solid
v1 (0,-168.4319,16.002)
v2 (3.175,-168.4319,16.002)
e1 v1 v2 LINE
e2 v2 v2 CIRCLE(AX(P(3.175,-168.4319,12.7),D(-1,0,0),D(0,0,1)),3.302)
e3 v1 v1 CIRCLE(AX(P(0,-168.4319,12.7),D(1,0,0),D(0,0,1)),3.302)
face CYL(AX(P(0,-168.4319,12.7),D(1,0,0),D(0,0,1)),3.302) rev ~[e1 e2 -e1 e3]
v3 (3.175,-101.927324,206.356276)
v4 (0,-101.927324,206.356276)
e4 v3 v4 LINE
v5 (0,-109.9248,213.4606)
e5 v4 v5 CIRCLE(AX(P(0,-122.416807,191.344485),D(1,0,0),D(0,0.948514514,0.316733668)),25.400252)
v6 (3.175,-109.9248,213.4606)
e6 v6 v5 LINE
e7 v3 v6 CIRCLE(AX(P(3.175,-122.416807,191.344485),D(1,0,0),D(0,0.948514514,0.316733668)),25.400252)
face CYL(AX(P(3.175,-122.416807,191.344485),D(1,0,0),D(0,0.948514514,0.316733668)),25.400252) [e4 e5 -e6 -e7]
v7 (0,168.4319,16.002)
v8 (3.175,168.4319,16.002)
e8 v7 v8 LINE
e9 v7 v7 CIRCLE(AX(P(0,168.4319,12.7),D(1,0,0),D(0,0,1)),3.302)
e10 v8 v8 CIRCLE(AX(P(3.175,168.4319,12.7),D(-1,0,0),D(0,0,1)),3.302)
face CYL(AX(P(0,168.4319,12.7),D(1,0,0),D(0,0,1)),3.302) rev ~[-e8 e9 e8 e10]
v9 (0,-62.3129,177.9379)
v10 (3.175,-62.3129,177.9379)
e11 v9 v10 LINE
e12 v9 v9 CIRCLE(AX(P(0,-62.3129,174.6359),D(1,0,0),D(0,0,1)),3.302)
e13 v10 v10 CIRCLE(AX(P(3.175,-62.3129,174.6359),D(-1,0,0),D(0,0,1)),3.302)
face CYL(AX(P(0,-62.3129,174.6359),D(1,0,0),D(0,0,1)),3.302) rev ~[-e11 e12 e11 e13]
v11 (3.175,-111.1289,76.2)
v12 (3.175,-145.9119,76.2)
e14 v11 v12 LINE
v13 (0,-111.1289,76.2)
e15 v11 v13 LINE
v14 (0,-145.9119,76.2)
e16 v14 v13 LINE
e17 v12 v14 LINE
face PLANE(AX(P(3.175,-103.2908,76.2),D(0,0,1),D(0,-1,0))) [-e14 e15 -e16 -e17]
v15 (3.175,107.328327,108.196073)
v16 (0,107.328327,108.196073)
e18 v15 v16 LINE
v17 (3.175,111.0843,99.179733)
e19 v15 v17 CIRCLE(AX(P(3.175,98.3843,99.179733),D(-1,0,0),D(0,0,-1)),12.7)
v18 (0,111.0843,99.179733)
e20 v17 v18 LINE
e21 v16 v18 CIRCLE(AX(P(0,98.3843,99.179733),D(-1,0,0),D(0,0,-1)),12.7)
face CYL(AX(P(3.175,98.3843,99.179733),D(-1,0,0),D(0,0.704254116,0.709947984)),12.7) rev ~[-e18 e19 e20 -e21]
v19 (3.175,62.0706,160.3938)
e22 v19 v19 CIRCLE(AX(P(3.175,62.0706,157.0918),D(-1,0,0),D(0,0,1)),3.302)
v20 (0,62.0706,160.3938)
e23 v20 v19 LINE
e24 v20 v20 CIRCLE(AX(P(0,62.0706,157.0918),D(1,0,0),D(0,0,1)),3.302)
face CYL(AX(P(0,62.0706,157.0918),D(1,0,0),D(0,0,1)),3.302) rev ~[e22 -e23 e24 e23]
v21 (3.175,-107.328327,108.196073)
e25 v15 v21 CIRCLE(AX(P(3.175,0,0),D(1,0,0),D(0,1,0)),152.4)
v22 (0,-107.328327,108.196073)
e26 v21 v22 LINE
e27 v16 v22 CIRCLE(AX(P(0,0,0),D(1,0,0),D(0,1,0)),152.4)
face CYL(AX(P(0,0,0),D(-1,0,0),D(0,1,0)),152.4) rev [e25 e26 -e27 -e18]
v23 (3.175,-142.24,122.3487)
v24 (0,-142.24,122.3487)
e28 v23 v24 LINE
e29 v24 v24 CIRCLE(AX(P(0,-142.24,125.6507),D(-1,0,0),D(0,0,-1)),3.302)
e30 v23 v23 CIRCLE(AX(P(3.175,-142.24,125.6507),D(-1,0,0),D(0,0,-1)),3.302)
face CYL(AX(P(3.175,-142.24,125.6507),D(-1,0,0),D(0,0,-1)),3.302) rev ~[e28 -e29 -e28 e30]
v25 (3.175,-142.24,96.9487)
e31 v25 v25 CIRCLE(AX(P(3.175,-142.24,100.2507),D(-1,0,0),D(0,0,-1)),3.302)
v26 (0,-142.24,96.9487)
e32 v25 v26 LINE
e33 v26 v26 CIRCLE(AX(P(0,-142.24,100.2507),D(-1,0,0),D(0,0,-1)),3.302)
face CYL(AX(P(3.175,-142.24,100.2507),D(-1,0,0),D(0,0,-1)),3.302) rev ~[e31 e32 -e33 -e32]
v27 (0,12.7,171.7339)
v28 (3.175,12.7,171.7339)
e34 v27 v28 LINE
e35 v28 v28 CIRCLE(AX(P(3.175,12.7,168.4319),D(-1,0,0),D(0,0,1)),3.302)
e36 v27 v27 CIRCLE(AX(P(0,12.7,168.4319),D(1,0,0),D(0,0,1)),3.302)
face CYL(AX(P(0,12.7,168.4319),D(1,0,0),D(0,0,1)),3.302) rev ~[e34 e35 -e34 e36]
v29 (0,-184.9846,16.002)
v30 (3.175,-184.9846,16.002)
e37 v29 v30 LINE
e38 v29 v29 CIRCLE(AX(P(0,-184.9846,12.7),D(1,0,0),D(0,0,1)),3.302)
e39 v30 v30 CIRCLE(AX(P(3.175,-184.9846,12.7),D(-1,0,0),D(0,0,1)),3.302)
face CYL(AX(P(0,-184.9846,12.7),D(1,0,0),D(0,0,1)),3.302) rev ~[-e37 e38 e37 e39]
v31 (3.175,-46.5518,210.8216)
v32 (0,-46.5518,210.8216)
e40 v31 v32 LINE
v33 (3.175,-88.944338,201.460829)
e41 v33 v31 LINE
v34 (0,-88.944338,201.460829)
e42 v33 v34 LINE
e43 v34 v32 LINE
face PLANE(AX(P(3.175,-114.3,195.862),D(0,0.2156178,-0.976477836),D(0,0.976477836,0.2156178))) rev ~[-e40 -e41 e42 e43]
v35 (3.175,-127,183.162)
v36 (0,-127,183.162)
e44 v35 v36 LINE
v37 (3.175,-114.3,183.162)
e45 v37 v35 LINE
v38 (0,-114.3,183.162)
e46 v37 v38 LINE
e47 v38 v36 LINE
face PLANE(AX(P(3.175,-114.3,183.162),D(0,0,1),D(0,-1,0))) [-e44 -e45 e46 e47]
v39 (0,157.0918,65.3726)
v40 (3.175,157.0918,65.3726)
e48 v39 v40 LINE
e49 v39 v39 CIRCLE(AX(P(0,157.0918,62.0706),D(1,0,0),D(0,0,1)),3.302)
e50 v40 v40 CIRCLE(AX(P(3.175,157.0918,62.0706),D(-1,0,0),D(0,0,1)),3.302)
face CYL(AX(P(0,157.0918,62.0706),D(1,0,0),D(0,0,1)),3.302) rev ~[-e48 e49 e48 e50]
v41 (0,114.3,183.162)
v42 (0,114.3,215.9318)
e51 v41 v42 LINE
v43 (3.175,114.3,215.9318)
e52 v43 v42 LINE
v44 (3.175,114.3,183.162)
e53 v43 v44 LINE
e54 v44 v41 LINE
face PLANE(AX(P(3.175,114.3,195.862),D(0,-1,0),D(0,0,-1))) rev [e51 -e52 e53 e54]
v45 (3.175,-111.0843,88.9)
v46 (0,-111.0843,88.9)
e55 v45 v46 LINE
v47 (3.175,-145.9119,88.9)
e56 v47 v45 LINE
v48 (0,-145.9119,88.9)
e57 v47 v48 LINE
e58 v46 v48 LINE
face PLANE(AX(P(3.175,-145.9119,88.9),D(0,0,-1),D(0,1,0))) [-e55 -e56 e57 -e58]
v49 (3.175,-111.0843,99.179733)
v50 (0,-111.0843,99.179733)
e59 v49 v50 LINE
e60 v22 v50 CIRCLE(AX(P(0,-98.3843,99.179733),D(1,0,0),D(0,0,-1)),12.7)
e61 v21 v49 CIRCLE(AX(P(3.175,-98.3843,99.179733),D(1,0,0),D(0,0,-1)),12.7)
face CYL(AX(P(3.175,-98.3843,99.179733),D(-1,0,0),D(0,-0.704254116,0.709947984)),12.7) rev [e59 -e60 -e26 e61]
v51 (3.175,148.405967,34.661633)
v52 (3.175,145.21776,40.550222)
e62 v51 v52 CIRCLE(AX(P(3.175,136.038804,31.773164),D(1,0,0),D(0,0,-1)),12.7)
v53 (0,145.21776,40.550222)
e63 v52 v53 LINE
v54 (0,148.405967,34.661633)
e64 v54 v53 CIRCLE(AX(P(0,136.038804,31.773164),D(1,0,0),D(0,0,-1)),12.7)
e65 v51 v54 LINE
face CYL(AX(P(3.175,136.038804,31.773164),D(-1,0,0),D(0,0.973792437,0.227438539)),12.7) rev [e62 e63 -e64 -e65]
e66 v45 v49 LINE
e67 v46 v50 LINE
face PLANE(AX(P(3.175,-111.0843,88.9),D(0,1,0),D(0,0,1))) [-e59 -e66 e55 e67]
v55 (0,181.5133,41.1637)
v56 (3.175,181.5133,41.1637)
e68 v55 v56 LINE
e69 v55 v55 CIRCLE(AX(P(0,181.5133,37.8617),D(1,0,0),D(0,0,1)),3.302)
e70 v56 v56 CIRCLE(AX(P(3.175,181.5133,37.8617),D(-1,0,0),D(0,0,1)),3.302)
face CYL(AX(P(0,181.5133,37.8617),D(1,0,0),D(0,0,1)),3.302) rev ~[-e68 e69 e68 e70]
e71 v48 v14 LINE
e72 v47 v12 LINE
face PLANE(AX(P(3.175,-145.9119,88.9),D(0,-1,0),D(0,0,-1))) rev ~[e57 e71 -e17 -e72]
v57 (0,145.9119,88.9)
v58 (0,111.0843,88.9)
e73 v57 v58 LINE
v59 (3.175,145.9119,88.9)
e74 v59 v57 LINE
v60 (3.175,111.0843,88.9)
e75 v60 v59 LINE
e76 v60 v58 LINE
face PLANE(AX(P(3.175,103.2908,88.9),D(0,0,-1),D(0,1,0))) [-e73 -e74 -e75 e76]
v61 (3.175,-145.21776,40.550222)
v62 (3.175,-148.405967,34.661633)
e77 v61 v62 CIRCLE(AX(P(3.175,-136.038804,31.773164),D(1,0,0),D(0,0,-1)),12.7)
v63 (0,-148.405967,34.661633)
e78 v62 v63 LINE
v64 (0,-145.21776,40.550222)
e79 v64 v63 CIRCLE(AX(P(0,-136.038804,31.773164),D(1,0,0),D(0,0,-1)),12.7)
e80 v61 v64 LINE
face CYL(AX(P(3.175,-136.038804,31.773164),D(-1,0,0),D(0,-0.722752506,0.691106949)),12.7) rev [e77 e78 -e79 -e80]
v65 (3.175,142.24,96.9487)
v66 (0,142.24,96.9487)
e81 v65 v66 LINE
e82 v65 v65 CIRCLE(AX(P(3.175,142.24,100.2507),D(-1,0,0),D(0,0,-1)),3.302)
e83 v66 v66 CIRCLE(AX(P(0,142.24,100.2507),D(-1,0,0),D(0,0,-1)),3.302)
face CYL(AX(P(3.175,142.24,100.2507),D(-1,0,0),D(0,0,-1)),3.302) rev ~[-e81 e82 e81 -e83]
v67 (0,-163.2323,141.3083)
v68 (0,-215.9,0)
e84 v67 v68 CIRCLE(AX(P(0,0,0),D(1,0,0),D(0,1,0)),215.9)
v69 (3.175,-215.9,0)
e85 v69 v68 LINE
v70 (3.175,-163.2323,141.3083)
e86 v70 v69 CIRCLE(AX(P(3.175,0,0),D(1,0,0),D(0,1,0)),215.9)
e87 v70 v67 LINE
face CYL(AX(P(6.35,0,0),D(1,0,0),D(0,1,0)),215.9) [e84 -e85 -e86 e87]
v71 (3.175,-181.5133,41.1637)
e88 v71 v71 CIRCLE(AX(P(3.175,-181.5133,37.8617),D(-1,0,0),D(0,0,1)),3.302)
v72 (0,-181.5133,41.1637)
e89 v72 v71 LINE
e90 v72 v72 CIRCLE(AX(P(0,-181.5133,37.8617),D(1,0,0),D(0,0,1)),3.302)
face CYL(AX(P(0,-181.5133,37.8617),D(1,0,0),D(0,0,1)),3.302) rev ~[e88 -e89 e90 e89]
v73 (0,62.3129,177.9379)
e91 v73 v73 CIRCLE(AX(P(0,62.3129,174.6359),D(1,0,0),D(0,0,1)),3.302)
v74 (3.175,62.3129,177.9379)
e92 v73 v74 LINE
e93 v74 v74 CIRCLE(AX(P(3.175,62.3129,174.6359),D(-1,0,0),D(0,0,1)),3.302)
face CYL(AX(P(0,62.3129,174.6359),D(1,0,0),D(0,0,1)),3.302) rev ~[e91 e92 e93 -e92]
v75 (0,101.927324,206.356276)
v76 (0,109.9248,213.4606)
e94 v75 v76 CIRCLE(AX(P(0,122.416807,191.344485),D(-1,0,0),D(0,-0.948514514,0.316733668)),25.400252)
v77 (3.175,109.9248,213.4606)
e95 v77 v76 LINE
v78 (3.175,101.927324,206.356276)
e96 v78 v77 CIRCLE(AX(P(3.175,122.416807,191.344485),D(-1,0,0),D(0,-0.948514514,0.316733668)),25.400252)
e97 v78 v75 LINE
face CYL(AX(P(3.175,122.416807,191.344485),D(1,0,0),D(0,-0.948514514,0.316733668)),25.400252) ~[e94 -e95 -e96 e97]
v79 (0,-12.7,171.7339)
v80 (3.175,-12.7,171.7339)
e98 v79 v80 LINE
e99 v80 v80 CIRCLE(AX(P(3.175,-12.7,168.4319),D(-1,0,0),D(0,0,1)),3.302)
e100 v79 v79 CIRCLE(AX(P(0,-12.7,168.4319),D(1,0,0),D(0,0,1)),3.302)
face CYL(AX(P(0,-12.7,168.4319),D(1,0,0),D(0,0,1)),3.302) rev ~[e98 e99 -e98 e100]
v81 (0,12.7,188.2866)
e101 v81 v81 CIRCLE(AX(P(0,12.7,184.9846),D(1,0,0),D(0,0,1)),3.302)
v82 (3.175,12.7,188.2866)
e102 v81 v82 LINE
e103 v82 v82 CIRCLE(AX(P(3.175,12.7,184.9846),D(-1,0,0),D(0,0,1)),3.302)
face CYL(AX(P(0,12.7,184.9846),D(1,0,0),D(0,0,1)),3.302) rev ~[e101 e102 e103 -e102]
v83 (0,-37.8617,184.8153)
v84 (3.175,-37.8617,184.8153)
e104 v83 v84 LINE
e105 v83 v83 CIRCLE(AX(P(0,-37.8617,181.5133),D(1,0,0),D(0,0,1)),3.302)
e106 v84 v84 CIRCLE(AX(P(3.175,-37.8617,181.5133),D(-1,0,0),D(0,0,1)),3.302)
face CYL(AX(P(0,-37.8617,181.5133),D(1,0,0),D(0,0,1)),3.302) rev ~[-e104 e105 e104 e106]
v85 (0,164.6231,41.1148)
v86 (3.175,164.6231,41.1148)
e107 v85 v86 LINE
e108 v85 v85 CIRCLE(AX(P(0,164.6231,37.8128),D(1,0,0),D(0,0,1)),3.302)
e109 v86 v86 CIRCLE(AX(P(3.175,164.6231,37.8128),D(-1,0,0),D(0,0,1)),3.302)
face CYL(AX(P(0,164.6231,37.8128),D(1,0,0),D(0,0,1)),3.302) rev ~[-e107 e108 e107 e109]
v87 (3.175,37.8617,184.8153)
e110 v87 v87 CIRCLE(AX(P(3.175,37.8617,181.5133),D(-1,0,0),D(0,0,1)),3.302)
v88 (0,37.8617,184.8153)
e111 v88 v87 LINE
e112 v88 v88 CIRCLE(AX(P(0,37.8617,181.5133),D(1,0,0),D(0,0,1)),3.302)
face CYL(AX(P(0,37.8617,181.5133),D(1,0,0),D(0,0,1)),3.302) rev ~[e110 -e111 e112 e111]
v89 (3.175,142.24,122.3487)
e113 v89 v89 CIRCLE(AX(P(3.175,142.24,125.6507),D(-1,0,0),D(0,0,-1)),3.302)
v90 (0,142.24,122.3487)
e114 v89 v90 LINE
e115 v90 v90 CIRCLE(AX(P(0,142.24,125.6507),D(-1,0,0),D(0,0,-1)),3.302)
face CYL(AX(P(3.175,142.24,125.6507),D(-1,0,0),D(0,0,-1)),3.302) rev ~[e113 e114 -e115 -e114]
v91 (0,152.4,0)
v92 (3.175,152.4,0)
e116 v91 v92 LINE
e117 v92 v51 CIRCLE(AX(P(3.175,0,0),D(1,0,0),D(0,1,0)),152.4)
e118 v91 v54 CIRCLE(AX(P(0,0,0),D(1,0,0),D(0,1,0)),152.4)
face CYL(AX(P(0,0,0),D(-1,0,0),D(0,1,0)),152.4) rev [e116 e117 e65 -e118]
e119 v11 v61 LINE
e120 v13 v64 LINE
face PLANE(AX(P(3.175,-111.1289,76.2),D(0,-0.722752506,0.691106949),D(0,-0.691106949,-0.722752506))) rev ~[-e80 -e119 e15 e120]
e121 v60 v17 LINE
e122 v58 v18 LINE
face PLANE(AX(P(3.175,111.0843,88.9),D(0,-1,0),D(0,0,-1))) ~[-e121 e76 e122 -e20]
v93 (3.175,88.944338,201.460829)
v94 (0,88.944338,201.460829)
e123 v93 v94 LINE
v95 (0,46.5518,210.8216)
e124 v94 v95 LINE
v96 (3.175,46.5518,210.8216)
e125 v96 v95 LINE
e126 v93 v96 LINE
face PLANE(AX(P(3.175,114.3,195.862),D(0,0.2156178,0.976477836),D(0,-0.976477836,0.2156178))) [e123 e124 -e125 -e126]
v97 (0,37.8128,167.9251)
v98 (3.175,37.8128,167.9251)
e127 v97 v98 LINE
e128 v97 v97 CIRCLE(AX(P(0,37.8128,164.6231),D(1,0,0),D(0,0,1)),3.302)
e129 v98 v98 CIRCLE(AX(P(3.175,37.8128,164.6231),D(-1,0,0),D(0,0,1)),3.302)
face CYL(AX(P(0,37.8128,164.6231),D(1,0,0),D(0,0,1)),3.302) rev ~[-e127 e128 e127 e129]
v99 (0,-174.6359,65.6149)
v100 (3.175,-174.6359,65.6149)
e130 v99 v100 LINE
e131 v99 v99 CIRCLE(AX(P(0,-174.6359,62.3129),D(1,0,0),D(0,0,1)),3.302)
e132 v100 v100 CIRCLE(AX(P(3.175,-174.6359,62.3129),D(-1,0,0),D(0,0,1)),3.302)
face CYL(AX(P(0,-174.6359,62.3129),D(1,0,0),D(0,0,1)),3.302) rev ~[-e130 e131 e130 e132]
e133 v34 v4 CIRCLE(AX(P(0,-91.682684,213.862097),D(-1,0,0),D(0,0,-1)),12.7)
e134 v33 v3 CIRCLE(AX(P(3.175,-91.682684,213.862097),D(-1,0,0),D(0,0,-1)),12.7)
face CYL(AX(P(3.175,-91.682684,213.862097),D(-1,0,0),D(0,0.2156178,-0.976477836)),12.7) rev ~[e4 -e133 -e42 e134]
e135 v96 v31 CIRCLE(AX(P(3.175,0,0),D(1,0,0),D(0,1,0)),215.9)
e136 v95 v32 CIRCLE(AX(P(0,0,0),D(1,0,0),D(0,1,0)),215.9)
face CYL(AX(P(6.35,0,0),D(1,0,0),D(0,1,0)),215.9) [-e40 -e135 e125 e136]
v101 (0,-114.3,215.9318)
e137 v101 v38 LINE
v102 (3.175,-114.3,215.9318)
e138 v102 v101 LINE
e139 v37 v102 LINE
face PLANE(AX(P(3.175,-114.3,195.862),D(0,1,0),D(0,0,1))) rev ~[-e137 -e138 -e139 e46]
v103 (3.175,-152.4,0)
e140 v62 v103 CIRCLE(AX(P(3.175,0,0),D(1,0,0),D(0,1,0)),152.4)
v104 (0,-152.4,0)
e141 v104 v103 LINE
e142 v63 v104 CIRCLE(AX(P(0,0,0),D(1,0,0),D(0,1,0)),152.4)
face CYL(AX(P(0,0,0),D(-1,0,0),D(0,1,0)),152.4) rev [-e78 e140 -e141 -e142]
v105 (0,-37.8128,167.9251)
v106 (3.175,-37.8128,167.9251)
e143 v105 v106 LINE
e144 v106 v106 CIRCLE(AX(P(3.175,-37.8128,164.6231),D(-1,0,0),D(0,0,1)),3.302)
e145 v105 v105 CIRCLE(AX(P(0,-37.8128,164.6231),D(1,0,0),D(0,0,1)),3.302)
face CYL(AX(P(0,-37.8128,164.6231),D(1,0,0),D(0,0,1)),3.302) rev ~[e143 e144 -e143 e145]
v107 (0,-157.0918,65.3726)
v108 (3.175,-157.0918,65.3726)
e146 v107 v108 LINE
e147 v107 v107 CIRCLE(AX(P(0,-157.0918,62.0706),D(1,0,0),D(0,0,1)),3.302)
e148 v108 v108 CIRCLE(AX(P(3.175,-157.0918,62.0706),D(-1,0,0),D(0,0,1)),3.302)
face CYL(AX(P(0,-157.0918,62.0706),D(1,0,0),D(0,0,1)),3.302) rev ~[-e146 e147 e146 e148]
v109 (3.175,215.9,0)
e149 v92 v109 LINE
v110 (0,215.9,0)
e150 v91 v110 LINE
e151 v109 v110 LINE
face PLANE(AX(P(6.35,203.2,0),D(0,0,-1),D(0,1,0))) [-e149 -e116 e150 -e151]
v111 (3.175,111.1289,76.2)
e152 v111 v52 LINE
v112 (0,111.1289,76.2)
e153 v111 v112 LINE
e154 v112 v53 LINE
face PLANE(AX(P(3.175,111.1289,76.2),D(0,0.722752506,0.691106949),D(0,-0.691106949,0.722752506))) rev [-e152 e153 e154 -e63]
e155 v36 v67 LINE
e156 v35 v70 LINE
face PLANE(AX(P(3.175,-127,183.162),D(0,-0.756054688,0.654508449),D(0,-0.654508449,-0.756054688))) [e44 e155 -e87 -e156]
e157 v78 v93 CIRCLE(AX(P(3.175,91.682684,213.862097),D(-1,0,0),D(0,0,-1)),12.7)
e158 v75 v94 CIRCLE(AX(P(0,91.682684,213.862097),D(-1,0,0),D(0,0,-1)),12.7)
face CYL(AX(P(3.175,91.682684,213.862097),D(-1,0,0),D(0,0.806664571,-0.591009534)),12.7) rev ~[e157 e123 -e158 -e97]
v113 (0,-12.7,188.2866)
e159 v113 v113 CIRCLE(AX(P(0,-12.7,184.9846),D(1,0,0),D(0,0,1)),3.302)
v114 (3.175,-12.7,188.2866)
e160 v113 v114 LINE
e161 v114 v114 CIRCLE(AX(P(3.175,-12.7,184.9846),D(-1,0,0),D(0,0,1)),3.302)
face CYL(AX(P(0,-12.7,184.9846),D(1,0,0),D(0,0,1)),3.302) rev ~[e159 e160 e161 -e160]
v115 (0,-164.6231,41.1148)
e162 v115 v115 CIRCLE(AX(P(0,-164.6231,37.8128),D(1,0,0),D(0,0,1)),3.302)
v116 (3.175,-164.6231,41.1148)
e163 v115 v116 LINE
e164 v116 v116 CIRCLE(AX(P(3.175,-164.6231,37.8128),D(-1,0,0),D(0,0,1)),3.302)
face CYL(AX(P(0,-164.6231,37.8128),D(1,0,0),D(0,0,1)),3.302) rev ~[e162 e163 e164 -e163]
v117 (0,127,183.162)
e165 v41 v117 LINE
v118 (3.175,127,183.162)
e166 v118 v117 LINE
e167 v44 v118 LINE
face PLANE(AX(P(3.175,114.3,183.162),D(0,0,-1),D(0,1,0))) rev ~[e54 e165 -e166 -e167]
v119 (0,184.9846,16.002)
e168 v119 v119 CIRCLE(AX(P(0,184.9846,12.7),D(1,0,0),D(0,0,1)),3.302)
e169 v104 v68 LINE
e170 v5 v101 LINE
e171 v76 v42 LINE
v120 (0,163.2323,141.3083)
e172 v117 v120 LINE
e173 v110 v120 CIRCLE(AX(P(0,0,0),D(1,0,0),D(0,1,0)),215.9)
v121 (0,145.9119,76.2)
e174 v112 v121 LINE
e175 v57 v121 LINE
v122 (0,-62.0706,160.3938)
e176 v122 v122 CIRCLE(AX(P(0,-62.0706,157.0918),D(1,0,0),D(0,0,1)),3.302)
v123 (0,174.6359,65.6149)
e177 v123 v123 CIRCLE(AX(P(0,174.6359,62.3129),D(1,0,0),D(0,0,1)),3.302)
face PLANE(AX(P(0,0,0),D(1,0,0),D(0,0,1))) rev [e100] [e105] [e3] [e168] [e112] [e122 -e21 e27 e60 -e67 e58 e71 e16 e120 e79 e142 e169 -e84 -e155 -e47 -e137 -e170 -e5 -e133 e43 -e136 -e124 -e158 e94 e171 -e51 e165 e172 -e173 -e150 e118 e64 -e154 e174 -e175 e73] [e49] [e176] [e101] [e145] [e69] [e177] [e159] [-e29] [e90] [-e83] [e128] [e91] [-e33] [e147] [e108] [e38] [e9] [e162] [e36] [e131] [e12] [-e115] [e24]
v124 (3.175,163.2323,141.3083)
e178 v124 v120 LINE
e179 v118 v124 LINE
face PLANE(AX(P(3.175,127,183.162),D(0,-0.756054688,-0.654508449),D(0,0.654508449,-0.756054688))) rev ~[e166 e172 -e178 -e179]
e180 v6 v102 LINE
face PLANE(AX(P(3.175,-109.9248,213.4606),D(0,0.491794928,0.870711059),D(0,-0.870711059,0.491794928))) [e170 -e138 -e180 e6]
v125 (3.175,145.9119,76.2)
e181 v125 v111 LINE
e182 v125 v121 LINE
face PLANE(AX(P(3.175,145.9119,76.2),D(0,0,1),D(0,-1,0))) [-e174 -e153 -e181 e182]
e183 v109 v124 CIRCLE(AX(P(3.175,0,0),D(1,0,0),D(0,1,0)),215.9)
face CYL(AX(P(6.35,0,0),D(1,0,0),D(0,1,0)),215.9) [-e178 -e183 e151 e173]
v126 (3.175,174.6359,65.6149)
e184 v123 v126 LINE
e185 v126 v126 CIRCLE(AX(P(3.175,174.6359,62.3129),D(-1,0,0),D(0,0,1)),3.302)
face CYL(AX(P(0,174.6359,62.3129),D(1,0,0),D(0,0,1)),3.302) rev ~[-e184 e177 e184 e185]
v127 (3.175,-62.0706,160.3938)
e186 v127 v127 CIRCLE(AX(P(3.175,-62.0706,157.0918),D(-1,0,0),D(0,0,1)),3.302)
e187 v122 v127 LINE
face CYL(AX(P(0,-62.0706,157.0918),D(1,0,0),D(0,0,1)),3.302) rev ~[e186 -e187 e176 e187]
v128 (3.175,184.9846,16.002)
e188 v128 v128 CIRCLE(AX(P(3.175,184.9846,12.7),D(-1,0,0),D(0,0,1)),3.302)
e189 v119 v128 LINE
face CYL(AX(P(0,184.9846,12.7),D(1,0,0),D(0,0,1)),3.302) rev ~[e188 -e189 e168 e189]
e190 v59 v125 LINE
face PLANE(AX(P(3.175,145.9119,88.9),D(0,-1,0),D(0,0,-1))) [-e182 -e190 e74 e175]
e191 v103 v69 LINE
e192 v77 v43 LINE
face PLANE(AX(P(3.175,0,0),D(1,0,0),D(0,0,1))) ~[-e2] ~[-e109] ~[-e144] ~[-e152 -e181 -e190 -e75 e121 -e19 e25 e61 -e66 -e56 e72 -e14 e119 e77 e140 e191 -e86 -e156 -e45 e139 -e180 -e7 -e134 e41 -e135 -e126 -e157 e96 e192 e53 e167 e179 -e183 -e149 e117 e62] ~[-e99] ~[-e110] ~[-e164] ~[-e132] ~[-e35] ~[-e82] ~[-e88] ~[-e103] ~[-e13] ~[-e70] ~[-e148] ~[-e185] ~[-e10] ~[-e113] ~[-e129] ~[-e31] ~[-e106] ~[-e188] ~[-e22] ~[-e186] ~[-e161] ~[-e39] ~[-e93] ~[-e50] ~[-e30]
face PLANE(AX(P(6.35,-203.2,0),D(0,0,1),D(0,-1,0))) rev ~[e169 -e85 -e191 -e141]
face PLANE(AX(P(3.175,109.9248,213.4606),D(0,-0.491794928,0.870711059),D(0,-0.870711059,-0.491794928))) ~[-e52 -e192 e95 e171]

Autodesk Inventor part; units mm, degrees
ref_plane "YZ Plane" through (0, 0, 0) normal (1, 0, 0) x (0, 1, 0)
ref_plane "XZ Plane" through (0, 0, 0) normal (0, 1, 0) x (-1, 0, 0)
sketch "Sketch1" plane through (0, 0, 0) normal (1, 0, 0) x (0, 1, 0)
  arc A0 (203.2, 0) -> (-203.2, 0) centre (0, 0) ccw
  arc A1 (152.4, 0) -> (-152.4, 0) centre (0, 0) ccw
  arc A2 (185.42, 0) -> (-185.42, 0) centre (0, 0) ccw
  line L0 (0, 0) -> (152.4, 0) construction
  line L1 (0, 0) -> (220.2471, 220.2471) construction
  line L2 (0, 0) -> (-217.8171, 217.8171) construction
  line L3 (0, 0) -> (-152.4, 0) construction
  line L4 (203.2, 0) -> (418.8667, 0) construction
  line L5 (152.4, 0) -> (-185.42, 0)
  line L6 (-203.2, 0) -> (-272.3039, 0)
  line L7 (-185.42, 0) -> (-203.2, 0)
  line L8 (-152.4, 0) -> (-203.2, 0)
  line L9 (152.4, 0) -> (203.2, 0)
  arc A3 (168.91, 0) -> (-168.91, 0) centre (0, 0) ccw
  point P0 (181.5133, 37.8617)
  point P1 (184.9846, 12.7)
  point P2 (164.6231, 37.8128)
  point P3 (168.4319, 12.7)
  point P4 (174.6359, 62.3129)
  point P5 (157.0918, 62.0706)
  point P6 (37.8617, 181.5133)
  point P7 (12.7, 184.9846)
  point P8 (37.8128, 164.6231)
  point P9 (12.7, 168.4319)
  point P10 (62.3129, 174.6359)
  point P11 (62.0706, 157.0918)
  point P12 (-62.3129, 174.6359)
  point P13 (-37.8617, 181.5133)
  point P14 (-62.0706, 157.0918)
  point P15 (-37.8128, 164.6231)
  point P16 (-12.7, 168.4319)
  point P17 (-12.7, 184.9846)
  point P18 (-157.0918, 62.0706)
  point P19 (-174.6359, 62.3129)
  point P20 (-181.5133, 37.8617)
  point P21 (-164.6231, 37.8128)
  point P22 (-168.4319, 12.7)
  point P23 (-184.9846, 12.7)
  dimension "d0" = 406.4
  dimension "d2" = 304.8
  dimension "d3" = 370.84
  dimension "d5" = 50.8
  dimension "d6" = 25.4
  dimension "d7" = 25.4
  dimension "d8" = 12.7
  dimension "d9" = 12.7
  dimension "d10" = 25.4
  dimension "d11" = 25.4
  dimension "d12" = 45
  dimension "d13" = 45
extrude "Extrusion1" add sketch "Sketch1" along normal blind 6.35 contours L9 A2 L7 A0 | L9 A3 L5 A2 | L9 A1 L5 A3
hole "Hole1" at (0, 181.5133, 37.8617) at (0, 184.9846, 12.7) at (0, 164.6231, 37.8128) at (0, 168.4319, 12.7) at (0, 174.6359, 62.3129) at (0, 157.0918, 62.0706) at (0, 62.3129, 174.6359) at (0, 37.8617, 181.5133) at (0, 62.0706, 157.0918) at (0, 37.8128, 164.6231) at (0, 12.7, 168.4319) at (0, 12.7, 184.9846) at (0, -62.0706, 157.0918) at (0, -62.3129, 174.6359) at (0, -37.8617, 181.5133) at (0, -37.8128, 164.6231) at (0, -12.7, 168.4319) at (0, -12.7, 184.9846) at (0, -184.9846, 12.7) at (0, -168.4319, 12.7) at (0, -181.5133, 37.8617) at (0, -164.6231, 37.8128) at (0, -174.6359, 62.3129) at (0, -157.0918, 62.0706) direction (1, 0, 0) diameter 6.604 end through all
sketch "Sketch2" plane through (6.35, 0, 0) normal (1, 0, 0) x (0, 0, -1)
  arc A0 (0, 215.9) -> (0, -215.9) centre (0, 0) ccw
  arc A1 (0, 203.2) -> (0, -203.2) centre (0, 0) ccw projected
  line L0 (0, 203.2) -> (0, 215.9)
  line L1 (0, -203.2) -> (0, -215.9)
  dimension "d23" = 431.8
extrude "Extrusion2" add sketch "Sketch2" against normal blind 6.35
sketch "Sketch3" plane through (6.35, 0, 0) normal (1, 0, 0) x (0, 0, -1)
  circle A0 centre (-62.3129, -174.6359) radius 3.302 projected
  circle A1 centre (-37.8617, -181.5133) radius 3.302 projected
  circle A2 centre (-12.7, -184.9846) radius 3.302 projected
  circle A3 centre (-168.4319, -12.7) radius 3.302 projected
  circle A4 centre (-181.5133, -37.8617) radius 3.302 projected
  circle A5 centre (-157.0918, -62.0706) radius 3.302 projected
  circle A6 centre (-168.4319, 12.7) radius 3.302 projected
  circle A7 centre (-157.0918, 62.0706) radius 3.302 projected
  circle A8 centre (-174.6359, 62.3129) radius 3.302 projected
  circle A9 centre (-62.3129, 174.6359) radius 3.302 projected
  circle A10 centre (-37.8128, 164.6231) radius 3.302 projected
  circle A11 centre (-37.8617, 181.5133) radius 3.302 projected
  circle A12 centre (-12.7, 184.9846) radius 3.302 projected
  circle A13 centre (-12.7, 168.4319) radius 3.302 projected
  circle A14 centre (-62.0706, 157.0918) radius 3.302 projected
  circle A15 centre (-181.5133, 37.8617) radius 3.302 projected
  circle A16 centre (-164.6231, 37.8128) radius 3.302 projected
  circle A17 centre (-184.9846, 12.7) radius 3.302 projected
  circle A18 centre (-174.6359, -62.3129) radius 3.302 projected
  circle A19 centre (-164.6231, -37.8128) radius 3.302 projected
  circle A20 centre (-184.9846, -12.7) radius 3.302 projected
  circle A21 centre (-12.7, -168.4319) radius 3.302 projected
  circle A22 centre (-37.8128, -164.6231) radius 3.302 projected
  circle A23 centre (-62.0706, -157.0918) radius 3.302 projected
  line L0 (0, 152.4) -> (0, 215.9) projected
  arc A24 (0, 215.9) -> (0, -215.9) centre (0, 0) ccw projected
  line L1 (0, -152.4) -> (0, -215.9) projected
  arc A25 (0, 152.4) -> (0, -152.4) centre (0, 0) ccw projected
extrude "Extrusion3" cut sketch "Sketch3" against normal blind 3.175
sketch "Sketch4" plane through (3.175, 0, 0) normal (1, 0, 0) x (0, 0, -1)
  arc A0 (0, 215.9) -> (0, -215.9) centre (0, 0) ccw projected
  line L0 (-183.162, -114.3) -> (-266.6206, -114.3)
  line L1 (-183.162, -114.3) -> (-183.162, -127)
  line L2 (-183.162, -127) -> (-174.5961, -127)
  arc A1 (-183.162, -114.3) -> (-174.5961, -127) centre (0, 0) ccw
  line L3 (0, 0) -> (-55.1086, 0) construction
  line L4 (-183.162, 114.3) -> (-183.162, 127)
  line L5 (-183.162, 127) -> (-174.5961, 127)
  arc A2 (-174.5961, 127) -> (-183.162, 114.3) centre (0, 0) ccw
  line L6 (-183.162, -127) -> (-141.3083, -163.2323)
  line L7 (-141.3083, -163.2323) -> (-141.3083, -138.6282)
  line L8 (-141.3083, -138.6282) -> (-174.5961, -127)
  line L9 (-183.162, 127) -> (-141.3083, 163.2323)
  line L10 (-174.5961, 127) -> (-141.3083, 120.9425)
  line L11 (-141.3083, 120.9425) -> (-141.3083, 163.2323)
  dimension "d28" = 114.3
  dimension "d29" = 12.7
extrude "Extrusion5" add sketch "Sketch4" against normal blind 3.175 contours L11 L10 A0 | A0 L5 L9 | A0 L2 L1 | A0 L4 L5 | A0 L6 L2
sketch "Sketch5" plane through (3.175, 0, 0) normal (1, 0, 0) x (0, 0, -1)
  line L0 (-183.162, 127) -> (-183.162, 114.3) projected
  line L1 (-183.162, 114.3) -> (-195.862, 114.3)
  line L2 (-195.862, 114.3) -> (-210.8216, 46.5518)
  arc A0 (-183.162, 114.3) -> (-183.162, -114.3) centre (0, 0) ccw projected
  line L3 (-210.8216, 46.5518) -> (-192.3409, 71.251)
  line L4 (-192.3409, 71.251) -> (-183.162, 114.3)
  line L5 (-183.162, -127) -> (-183.162, -114.3) projected
  line L6 (-183.162, -114.3) -> (-195.862, -114.3)
  line L7 (-195.862, -114.3) -> (-210.8216, -46.5518)
  line L8 (-210.8216, -46.5518) -> (-195.3713, -59.0073)
  line L9 (-195.3713, -59.0073) -> (-183.162, -114.3)
  dimension "d34" = 12.7
  dimension "d35" = 12.7
extrude "Extrusion6" add sketch "Sketch5" against normal blind 3.175 contours A0 L2 L1 | A0 L6 L7
sketch "Sketch9" plane through (3.175, 0, 0) normal (1, 0, 0) x (0, 0, -1)
  line L0 (-92.2547, 269.24) -> (-92.2547, 299.72) projected
  line L1 (-150.1234, 299.72) -> (-92.2547, 299.72) projected
  line L2 (-198.5102, 285.4918) -> (-150.1234, 299.72) projected
  arc A0 (-198.5102, 285.4918) -> (-213.4606, 273.6152) centre (-191.3446, 261.1234) ccw projected
  line L3 (-215.9318, 269.24) -> (-213.4606, 273.6152) projected
  line L4 (-92.2547, 269.24) -> (-215.9318, 269.24) projected
  circle A1 centre (-125.6507, 284.48) radius 3.302 projected
  circle A2 centre (-100.2507, 284.48) radius 3.302 projected
  arc A3 (-60.2763, 194.0541) -> (60.2763, -194.0541) centre (0, 0) ccw projected
  line L5 (-92.2547, -15.24) -> (-92.2547, 15.24) projected
  line L6 (-92.2547, 15.24) -> (-215.9318, 15.24) projected
  line L7 (-215.9318, 15.24) -> (-213.4606, 10.8648) projected
  arc A4 (-213.4606, 10.8648) -> (-198.5102, -1.0118) centre (-191.3446, 23.3566) ccw projected
  line L8 (-198.5102, -1.0118) -> (-150.1234, -15.24) projected
  line L9 (-150.1234, -15.24) -> (-92.2547, -15.24) projected
  circle A5 centre (-100.2507, 0) radius 3.302 projected
  circle A6 centre (-125.6507, 0) radius 3.302 projected
  line L10 (-92.2547, 127) -> (-92.2547, 157.48) projected
  line L11 (-150.1234, 157.48) -> (-92.2547, 157.48) projected
  line L12 (-198.5102, 143.2518) -> (-150.1234, 157.48) projected
  arc A7 (-198.5102, 143.2518) -> (-213.4606, 131.3752) centre (-191.3446, 118.8834) ccw projected
  line L13 (-215.9318, 127) -> (-213.4606, 131.3752) projected
  line L14 (-92.2547, 127) -> (-215.9318, 127) projected
  circle A8 centre (-125.6507, 142.24) radius 3.302 projected
  circle A9 centre (-100.2507, 142.24) radius 3.302 projected
  line L15 (-92.2547, -157.48) -> (-92.2547, -127) projected
  line L16 (-92.2547, -127) -> (-215.9318, -127) projected
  line L17 (-215.9318, -127) -> (-213.4606, -131.3752) projected
  arc A10 (-213.4606, -131.3752) -> (-198.5102, -143.2518) centre (-191.3446, -118.8834) ccw projected
  line L18 (-198.5102, -143.2518) -> (-150.1234, -157.48) projected
  line L19 (-150.1234, -157.48) -> (-92.2547, -157.48) projected
  circle A11 centre (-100.2507, -142.24) radius 3.302 projected
  circle A12 centre (-125.6507, -142.24) radius 3.302 projected
  point P0 (0, 0)
hole "Hole4" at (3.175, 142.24, 100.2507) at (3.175, 142.24, 125.6507) at (3.175, -142.24, 100.2507) at (3.175, -142.24, 125.6507) direction (-1, 0, 0) diameter 6.604 end through all
sketch "Sketch11" plane through (3.175, 0, 0) normal (1, 0, 0) x (0, 0, -1)
  line L0 (-88.9, -145.9119) -> (-88.9, -103.2908) projected
  line L1 (-76.2, -103.2908) -> (-76.2, -145.9119) projected
  line L2 (-88.9, 103.2908) -> (-88.9, 145.9119) projected
  line L3 (-76.2, 145.9119) -> (-76.2, 103.2908) projected
  line L4 (-88.9, 145.9119) -> (-76.2, 145.9119)
  line L5 (-76.2, 145.9119) -> (-76.2, 103.2908)
  line L6 (-76.2, 103.2908) -> (-88.9, 103.2908)
  line L7 (-88.9, 103.2908) -> (-88.9, 145.9119)
  line L8 (-88.9, -145.9119) -> (-76.2, -145.9119)
  line L9 (-76.2, -145.9119) -> (-76.2, -103.2908)
  line L10 (-76.2, -103.2908) -> (-88.9, -103.2908)
  line L11 (-88.9, -103.2908) -> (-88.9, -145.9119)
  point P0 (0, 0)
extrude "Extrusion10" cut sketch "Sketch11" against normal blind 25.4
sketch "Sketch12" plane through (3.175, 0, 0) normal (1, 0, 0) x (0, 0, -1)
  circle A0 centre (-62.0706, -157.0918) radius 3.302 projected
  circle A1 centre (-37.8128, -164.6231) radius 3.302 projected
  circle A2 centre (-12.7, -168.4319) radius 3.302 projected
  circle A3 centre (-184.9846, -12.7) radius 3.302 projected
  circle A4 centre (-164.6231, -37.8128) radius 3.302 projected
  circle A5 centre (-174.6359, -62.3129) radius 3.302 projected
  circle A6 centre (-184.9846, 12.7) radius 3.302 projected
  circle A7 centre (-164.6231, 37.8128) radius 3.302 projected
  circle A8 centre (-181.5133, 37.8617) radius 3.302 projected
  circle A9 centre (-62.0706, 157.0918) radius 3.302 projected
  circle A10 centre (-12.7, 168.4319) radius 3.302 projected
  circle A11 centre (-12.7, 184.9846) radius 3.302 projected
  circle A12 centre (-37.8617, 181.5133) radius 3.302 projected
  circle A13 centre (-37.8128, 164.6231) radius 3.302 projected
  circle A14 centre (-62.3129, 174.6359) radius 3.302 projected
  circle A15 centre (-174.6359, 62.3129) radius 3.302 projected
  circle A16 centre (-157.0918, 62.0706) radius 3.302 projected
  circle A17 centre (-168.4319, 12.7) radius 3.302 projected
  circle A18 centre (-157.0918, -62.0706) radius 3.302 projected
  circle A19 centre (-181.5133, -37.8617) radius 3.302 projected
  circle A20 centre (-168.4319, -12.7) radius 3.302 projected
  circle A21 centre (-12.7, -184.9846) radius 3.302 projected
  circle A22 centre (-37.8617, -181.5133) radius 3.302 projected
  circle A23 centre (-62.3129, -174.6359) radius 3.302 projected
  line L0 (-76.2, -131.9823) -> (-76.2, -145.9119) projected
  line L1 (-76.2, -145.9119) -> (-88.9, -145.9119) projected
  line L2 (-88.9, -145.9119) -> (-88.9, -123.7843) projected
  arc A24 (-88.9, 123.7843) -> (-88.9, -123.7843) centre (0, 0) ccw projected
  line L3 (-88.9, 123.7843) -> (-88.9, 145.9119) projected
  line L4 (-88.9, 145.9119) -> (-76.2, 145.9119) projected
  line L5 (-76.2, 145.9119) -> (-76.2, 131.9823) projected
  arc A25 (0, 152.4) -> (-76.2, 131.9823) centre (0, 0) ccw projected
  line L6 (0, 215.9) -> (0, 152.4) projected
  arc A26 (0, 215.9) -> (-141.3083, 163.2323) centre (0, 0) ccw projected
  line L7 (-141.3083, 163.2323) -> (-183.162, 127) projected
  line L8 (-183.162, 127) -> (-183.162, 114.3) projected
  line L9 (-183.162, 114.3) -> (-195.862, 114.3) projected
  line L10 (-195.862, 114.3) -> (-210.8216, 46.5518) projected
  arc A27 (-210.8216, 46.5518) -> (-210.8216, -46.5518) centre (0, 0) ccw projected
  line L11 (-210.8216, -46.5518) -> (-195.862, -114.3) projected
  line L12 (-195.862, -114.3) -> (-183.162, -114.3) projected
  line L13 (-183.162, -114.3) -> (-183.162, -127) projected
  line L14 (-183.162, -127) -> (-141.3083, -163.2323) projected
  arc A28 (-141.3083, -163.2323) -> (0, -215.9) centre (0, 0) ccw projected
  line L15 (0, -152.4) -> (0, -215.9) projected
  arc A29 (-76.2, -131.9823) -> (0, -152.4) centre (0, 0) ccw projected
  circle A30 centre (-125.6507, -142.24) radius 3.302 projected
  circle A31 centre (-125.6507, 142.24) radius 3.302 projected
  circle A32 centre (-100.2507, 142.24) radius 3.302 projected
  circle A33 centre (-100.2507, -142.24) radius 3.302 projected
  line L16 (-76.2, -103.2908) -> (-76.2, -145.9119) projected
  line L17 (-76.2, 145.9119) -> (-76.2, 103.2908) projected
  line L18 (-76.2, -131.9823) -> (-76.2, -145.9119) projected
  line L19 (-76.2, -145.9119) -> (-76.2, -123.8289)
  arc A34 (-76.2, -131.9823) -> (0, -152.4) centre (0, 0) ccw projected
  line L20 (-249.0244, -114.3) -> (0, -114.3) projected
  line L21 (-76.2, -131.9823) -> (-76.2, -123.8289)
  arc A35 (-76.2, -131.9823) -> (-38.1, -147.5607) centre (0, 0) ccw
  arc A36 (0, 152.4) -> (-76.2, 131.9823) centre (0, 0) ccw projected
  line L22 (0, 0) -> (-39.444, 0)
  line L23 (-249.0244, 127) -> (0, 127)
  line L24 (-76.2, 145.9119) -> (-76.2, 131.9823) projected
  line L25 (-76.2, 127) -> (-76.2, 131.9823)
  arc A37 (-38.1, 147.5607) -> (-76.2, 131.9823) centre (0, 0) ccw
  line L26 (-249.0244, 123.825) -> (0, 123.825)
  line L27 (-249.0244, -114.3) -> (0, -114.3)
  line L28 (-76.2, 123.825) -> (-38.1, 147.5607)
  line L29 (0, -123.825) -> (-249.0244, -123.825)
  line L30 (-76.2, -123.8289) -> (-38.1, -147.5607)
  dimension "d67" = 22.1276
  dimension "d68" = 38.1
  dimension "d71" = 38.1
  dimension "d72" = 8.1573
  dimension "d74" = 8.1534
extrude "Extrusion11" add sketch "Sketch12" against normal blind 3.175 contours L16 L30 A29 | L17 L23 L28 | L17 A25 L28 L23
sketch "Sketch13" plane through (3.175, 0, 0) normal (1, 0, 0) x (0, 0, -1)
  circle A0 centre (-62.0706, -157.0918) radius 3.302 projected
  circle A1 centre (-37.8128, -164.6231) radius 3.302 projected
  circle A2 centre (-12.7, -168.4319) radius 3.302 projected
  circle A3 centre (-184.9846, -12.7) radius 3.302 projected
  circle A4 centre (-164.6231, -37.8128) radius 3.302 projected
  circle A5 centre (-174.6359, -62.3129) radius 3.302 projected
  circle A6 centre (-184.9846, 12.7) radius 3.302 projected
  circle A7 centre (-164.6231, 37.8128) radius 3.302 projected
  circle A8 centre (-181.5133, 37.8617) radius 3.302 projected
  circle A9 centre (-62.0706, 157.0918) radius 3.302 projected
  circle A10 centre (-12.7, 168.4319) radius 3.302 projected
  circle A11 centre (-12.7, 184.9846) radius 3.302 projected
  circle A12 centre (-37.8617, 181.5133) radius 3.302 projected
  circle A13 centre (-37.8128, 164.6231) radius 3.302 projected
  circle A14 centre (-62.3129, 174.6359) radius 3.302 projected
  circle A15 centre (-174.6359, 62.3129) radius 3.302 projected
  circle A16 centre (-157.0918, 62.0706) radius 3.302 projected
  circle A17 centre (-168.4319, 12.7) radius 3.302 projected
  circle A18 centre (-157.0918, -62.0706) radius 3.302 projected
  circle A19 centre (-181.5133, -37.8617) radius 3.302 projected
  circle A20 centre (-168.4319, -12.7) radius 3.302 projected
  circle A21 centre (-12.7, -184.9846) radius 3.302 projected
  circle A22 centre (-37.8617, -181.5133) radius 3.302 projected
  circle A23 centre (-62.3129, -174.6359) radius 3.302 projected
  line L0 (-76.2, -123.8289) -> (-76.2, -145.9119) projected
  line L1 (-76.2, -145.9119) -> (-88.9, -145.9119) projected
  line L2 (-88.9, -145.9119) -> (-88.9, -123.7843) projected
  arc A24 (-88.9, 123.7843) -> (-88.9, -123.7843) centre (0, 0) ccw projected
  line L3 (-88.9, 123.7843) -> (-88.9, 145.9119) projected
  line L4 (-88.9, 145.9119) -> (-76.2, 145.9119) projected
  line L5 (-76.2, 145.9119) -> (-76.2, 123.825) projected
  line L6 (-76.2, 123.825) -> (-38.1, 147.5607) projected
  arc A25 (0, 152.4) -> (-38.1, 147.5607) centre (0, 0) ccw projected
  line L7 (0, 215.9) -> (0, 152.4) projected
  arc A26 (0, 215.9) -> (-141.3083, 163.2323) centre (0, 0) ccw projected
  line L8 (-141.3083, 163.2323) -> (-183.162, 127) projected
  line L9 (-183.162, 127) -> (-183.162, 114.3) projected
  line L10 (-183.162, 114.3) -> (-195.862, 114.3) projected
  line L11 (-195.862, 114.3) -> (-210.8216, 46.5518) projected
  arc A27 (-210.8216, 46.5518) -> (-210.8216, -46.5518) centre (0, 0) ccw projected
  line L12 (-210.8216, -46.5518) -> (-195.862, -114.3) projected
  line L13 (-195.862, -114.3) -> (-183.162, -114.3) projected
  line L14 (-183.162, -114.3) -> (-183.162, -127) projected
  line L15 (-183.162, -127) -> (-141.3083, -163.2323) projected
  arc A28 (-141.3083, -163.2323) -> (0, -215.9) centre (0, 0) ccw projected
  line L16 (0, -152.4) -> (0, -215.9) projected
  arc A29 (-38.1, -147.5607) -> (0, -152.4) centre (0, 0) ccw projected
  line L17 (-38.1, -147.5607) -> (-76.2, -123.8289) projected
  circle A30 centre (-125.6507, -142.24) radius 3.302 projected
  circle A31 centre (-125.6507, 142.24) radius 3.302 projected
  circle A32 centre (-100.2507, 142.24) radius 3.302 projected
  circle A33 centre (-100.2507, -142.24) radius 3.302 projected
  line L18 (-76.2, -123.8289) -> (-76.2, -111.1289)
  arc A34 (-88.9, 123.7843) -> (-88.9, -123.7843) centre (0, 0) ccw projected
  line L19 (-88.9, 123.7843) -> (-88.9, -111.0843)
  line L20 (-88.9, -145.9119) -> (-88.9, -123.7843) projected
  line L21 (-88.9, -123.7843) -> (-88.9, -111.0843)
  line L22 (-88.9, -111.0843) -> (-104.3362, -111.0843)
  line L23 (-76.2, -123.8289) -> (-38.1, -147.5607) projected
  line L24 (-76.2, -111.1289) -> (-38.1, -147.5607)
  line L25 (-76.2, -111.1289) -> (-88.9, -111.0843)
  arc A35 (-104.3362, -111.0843) -> (-88.9, -123.7843) centre (0, 0) ccw
  line L26 (-76.2, -123.8289) -> (-38.1, -147.5607)
  dimension "d78" = 12.7
  dimension "d79" = 12.7
  dimension "d81" = 38.1
extrude "Extrusion12" add sketch "Sketch13" against normal blind 3.175 contours L18 L24 L17 | L21 A24 L22
ref_plane "Work Plane1" through (3.175, 0, 88.9) normal (0, 1, 0) x (1, 0, 0)
mirror "Mirror1" about plane through (3.175, 0, 88.9) normal (0, 1, 0) of "Extrusion12"
fillet "Fillet1" radius 12.7 4 edges at (1.5875, -111.0843, 104.3362) (1.5875, 111.0843, 104.3362) (1.5875, -147.5607, 38.1) (1.5875, 147.5607, 38.1)
sketch "Sketch14" plane through (3.175, 0, 0) normal (1, 0, 0) x (0, 0, -1)
  arc A0 (0, 152.4) -> (-34.6616, 148.406) centre (0, 0) ccw projected
  line L0 (0, 215.9) -> (0, 152.4) projected
  arc A1 (0, 215.9) -> (-141.3083, 163.2323) centre (0, 0) ccw projected
  line L1 (-141.3083, 163.2323) -> (-183.162, 127) projected
  line L2 (-183.162, 127) -> (-183.162, 114.3) projected
  line L3 (-183.162, 114.3) -> (-195.862, 114.3) projected
  line L4 (-195.862, 114.3) -> (-210.8216, 46.5518) projected
  arc A2 (-210.8216, 46.5518) -> (-210.8216, -46.5518) centre (0, 0) ccw projected
  line L5 (-210.8216, -46.5518) -> (-195.862, -114.3) projected
  line L6 (-195.862, -114.3) -> (-183.162, -114.3) projected
  line L7 (-183.162, -114.3) -> (-183.162, -127) projected
  line L8 (-183.162, -127) -> (-141.3083, -163.2323) projected
  arc A3 (-141.3083, -163.2323) -> (0, -215.9) centre (0, 0) ccw projected
  line L9 (0, -152.4) -> (0, -215.9) projected
  arc A4 (-34.6616, -148.406) -> (0, -152.4) centre (0, 0) ccw projected
  arc A5 (-40.5502, -145.2178) -> (-34.6616, -148.406) centre (-31.7731, -136.0388) ccw projected
  line L10 (-40.5502, -145.2178) -> (-76.2, -111.1289) projected
  line L11 (-76.2, -111.1289) -> (-76.2, -145.9119) projected
  line L12 (-76.2, -145.9119) -> (-88.9, -145.9119) projected
  line L13 (-88.9, -145.9119) -> (-88.9, -111.0843) projected
  line L14 (-88.9, -111.0843) -> (-99.1797, -111.0843) projected
  arc A6 (-108.1961, -107.3283) -> (-99.1797, -111.0843) centre (-99.1797, -98.3843) ccw projected
  arc A7 (-108.1961, 107.3283) -> (-108.1961, -107.3283) centre (0, 0) ccw projected
  arc A8 (-99.1797, 111.0843) -> (-108.1961, 107.3283) centre (-99.1797, 98.3843) ccw projected
  line L15 (-88.9, 111.0843) -> (-99.1797, 111.0843) projected
  line L16 (-88.9, 111.0843) -> (-88.9, 145.9119) projected
  line L17 (-88.9, 145.9119) -> (-76.2, 145.9119) projected
  line L18 (-76.2, 145.9119) -> (-76.2, 111.1289) projected
  line L19 (-40.5502, 145.2178) -> (-76.2, 111.1289) projected
  arc A9 (-34.6616, 148.406) -> (-40.5502, 145.2178) centre (-31.7731, 136.0388) ccw projected
  circle A10 centre (-62.0706, -157.0918) radius 3.302 projected
  circle A11 centre (-37.8128, -164.6231) radius 3.302 projected
  circle A12 centre (-12.7, -168.4319) radius 3.302 projected
  circle A13 centre (-184.9846, -12.7) radius 3.302 projected
  circle A14 centre (-164.6231, -37.8128) radius 3.302 projected
  circle A15 centre (-174.6359, -62.3129) radius 3.302 projected
  circle A16 centre (-184.9846, 12.7) radius 3.302 projected
  circle A17 centre (-164.6231, 37.8128) radius 3.302 projected
  circle A18 centre (-181.5133, 37.8617) radius 3.302 projected
  circle A19 centre (-62.0706, 157.0918) radius 3.302 projected
  circle A20 centre (-12.7, 168.4319) radius 3.302 projected
  circle A21 centre (-12.7, 184.9846) radius 3.302 projected
  circle A22 centre (-37.8617, 181.5133) radius 3.302 projected
  circle A23 centre (-37.8128, 164.6231) radius 3.302 projected
  circle A24 centre (-62.3129, 174.6359) radius 3.302 projected
  circle A25 centre (-174.6359, 62.3129) radius 3.302 projected
  circle A26 centre (-157.0918, 62.0706) radius 3.302 projected
  circle A27 centre (-168.4319, 12.7) radius 3.302 projected
  circle A28 centre (-157.0918, -62.0706) radius 3.302 projected
  circle A29 centre (-181.5133, -37.8617) radius 3.302 projected
  circle A30 centre (-168.4319, -12.7) radius 3.302 projected
  circle A31 centre (-12.7, -184.9846) radius 3.302 projected
  circle A32 centre (-37.8617, -181.5133) radius 3.302 projected
  circle A33 centre (-62.3129, -174.6359) radius 3.302 projected
  circle A34 centre (-125.6507, -142.24) radius 3.302 projected
  circle A35 centre (-125.6507, 142.24) radius 3.302 projected
  circle A36 centre (-100.2507, 142.24) radius 3.302 projected
  circle A37 centre (-100.2507, -142.24) radius 3.302 projected
  line L20 (-183.162, 114.3) -> (-183.162, 127) projected
  line L21 (-183.162, 120.65) -> (-194.4599, 120.65)
  line L22 (-92.2547, 127) -> (-92.2547, 157.48) projected
  line L23 (-150.1234, 157.48) -> (-92.2547, 157.48) projected
  line L24 (-198.5102, 143.2518) -> (-150.1234, 157.48) projected
  arc A38 (-198.5102, 143.2518) -> (-213.4606, 131.3752) centre (-191.3446, 118.8834) ccw projected
  line L25 (-215.9318, 127) -> (-213.4606, 131.3752) projected
  line L26 (-92.2547, 127) -> (-215.9318, 127) projected
  circle A39 centre (-125.6507, 142.24) radius 3.302 projected
  circle A40 centre (-100.2507, 142.24) radius 3.302 projected
  arc A41 (-213.4606, 109.9248) -> (-199.3896, 98.3243) centre (-191.3446, 122.4166) ccw
  line L27 (-215.9318, 114.3) -> (-213.4606, 109.9248)
  line L28 (-210.8216, 46.5518) -> (-195.862, 114.3) projected
  line L29 (-199.3896, 98.3243) -> (-195.862, 114.3)
  line L30 (-195.862, 114.3) -> (-215.9318, 114.3)
  arc A42 (-108.1961, 107.3283) -> (-108.1961, -107.3283) centre (0, 0) ccw projected
  line L31 (-152.4, 0) -> (-174.3168, 0)
  line L32 (-195.862, -114.3) -> (-199.3896, -98.3243)
  arc A43 (-199.3896, -98.3243) -> (-213.4606, -109.9248) centre (-191.3446, -122.4166) ccw
  line L33 (-195.862, -114.3) -> (-215.9318, -114.3)
  line L34 (-213.4606, -109.9248) -> (-215.9318, -114.3)
  line L35 (-199.3896, -98.3243) -> (-210.8216, -46.5518)
extrude "Extrusion13" add sketch "Sketch14" against normal blind 3.175 contours L5 L33 L34 A43
mirror "Mirror2" about plane through (3.175, 0, 88.9) normal (0, 1, 0) of "Extrusion13"
fillet "Fillet2" radius 12.7 2 edges at (1.5875, 98.3243, 199.3896) (1.5875, -98.3243, 199.3896)
sketch "Sketch15" plane through (3.175, 0, 0) normal (1, 0, 0) x (0, 0, -1)
  point P0 (0, 0)
properties part number "16in outer coil" material "Polystyrene"
